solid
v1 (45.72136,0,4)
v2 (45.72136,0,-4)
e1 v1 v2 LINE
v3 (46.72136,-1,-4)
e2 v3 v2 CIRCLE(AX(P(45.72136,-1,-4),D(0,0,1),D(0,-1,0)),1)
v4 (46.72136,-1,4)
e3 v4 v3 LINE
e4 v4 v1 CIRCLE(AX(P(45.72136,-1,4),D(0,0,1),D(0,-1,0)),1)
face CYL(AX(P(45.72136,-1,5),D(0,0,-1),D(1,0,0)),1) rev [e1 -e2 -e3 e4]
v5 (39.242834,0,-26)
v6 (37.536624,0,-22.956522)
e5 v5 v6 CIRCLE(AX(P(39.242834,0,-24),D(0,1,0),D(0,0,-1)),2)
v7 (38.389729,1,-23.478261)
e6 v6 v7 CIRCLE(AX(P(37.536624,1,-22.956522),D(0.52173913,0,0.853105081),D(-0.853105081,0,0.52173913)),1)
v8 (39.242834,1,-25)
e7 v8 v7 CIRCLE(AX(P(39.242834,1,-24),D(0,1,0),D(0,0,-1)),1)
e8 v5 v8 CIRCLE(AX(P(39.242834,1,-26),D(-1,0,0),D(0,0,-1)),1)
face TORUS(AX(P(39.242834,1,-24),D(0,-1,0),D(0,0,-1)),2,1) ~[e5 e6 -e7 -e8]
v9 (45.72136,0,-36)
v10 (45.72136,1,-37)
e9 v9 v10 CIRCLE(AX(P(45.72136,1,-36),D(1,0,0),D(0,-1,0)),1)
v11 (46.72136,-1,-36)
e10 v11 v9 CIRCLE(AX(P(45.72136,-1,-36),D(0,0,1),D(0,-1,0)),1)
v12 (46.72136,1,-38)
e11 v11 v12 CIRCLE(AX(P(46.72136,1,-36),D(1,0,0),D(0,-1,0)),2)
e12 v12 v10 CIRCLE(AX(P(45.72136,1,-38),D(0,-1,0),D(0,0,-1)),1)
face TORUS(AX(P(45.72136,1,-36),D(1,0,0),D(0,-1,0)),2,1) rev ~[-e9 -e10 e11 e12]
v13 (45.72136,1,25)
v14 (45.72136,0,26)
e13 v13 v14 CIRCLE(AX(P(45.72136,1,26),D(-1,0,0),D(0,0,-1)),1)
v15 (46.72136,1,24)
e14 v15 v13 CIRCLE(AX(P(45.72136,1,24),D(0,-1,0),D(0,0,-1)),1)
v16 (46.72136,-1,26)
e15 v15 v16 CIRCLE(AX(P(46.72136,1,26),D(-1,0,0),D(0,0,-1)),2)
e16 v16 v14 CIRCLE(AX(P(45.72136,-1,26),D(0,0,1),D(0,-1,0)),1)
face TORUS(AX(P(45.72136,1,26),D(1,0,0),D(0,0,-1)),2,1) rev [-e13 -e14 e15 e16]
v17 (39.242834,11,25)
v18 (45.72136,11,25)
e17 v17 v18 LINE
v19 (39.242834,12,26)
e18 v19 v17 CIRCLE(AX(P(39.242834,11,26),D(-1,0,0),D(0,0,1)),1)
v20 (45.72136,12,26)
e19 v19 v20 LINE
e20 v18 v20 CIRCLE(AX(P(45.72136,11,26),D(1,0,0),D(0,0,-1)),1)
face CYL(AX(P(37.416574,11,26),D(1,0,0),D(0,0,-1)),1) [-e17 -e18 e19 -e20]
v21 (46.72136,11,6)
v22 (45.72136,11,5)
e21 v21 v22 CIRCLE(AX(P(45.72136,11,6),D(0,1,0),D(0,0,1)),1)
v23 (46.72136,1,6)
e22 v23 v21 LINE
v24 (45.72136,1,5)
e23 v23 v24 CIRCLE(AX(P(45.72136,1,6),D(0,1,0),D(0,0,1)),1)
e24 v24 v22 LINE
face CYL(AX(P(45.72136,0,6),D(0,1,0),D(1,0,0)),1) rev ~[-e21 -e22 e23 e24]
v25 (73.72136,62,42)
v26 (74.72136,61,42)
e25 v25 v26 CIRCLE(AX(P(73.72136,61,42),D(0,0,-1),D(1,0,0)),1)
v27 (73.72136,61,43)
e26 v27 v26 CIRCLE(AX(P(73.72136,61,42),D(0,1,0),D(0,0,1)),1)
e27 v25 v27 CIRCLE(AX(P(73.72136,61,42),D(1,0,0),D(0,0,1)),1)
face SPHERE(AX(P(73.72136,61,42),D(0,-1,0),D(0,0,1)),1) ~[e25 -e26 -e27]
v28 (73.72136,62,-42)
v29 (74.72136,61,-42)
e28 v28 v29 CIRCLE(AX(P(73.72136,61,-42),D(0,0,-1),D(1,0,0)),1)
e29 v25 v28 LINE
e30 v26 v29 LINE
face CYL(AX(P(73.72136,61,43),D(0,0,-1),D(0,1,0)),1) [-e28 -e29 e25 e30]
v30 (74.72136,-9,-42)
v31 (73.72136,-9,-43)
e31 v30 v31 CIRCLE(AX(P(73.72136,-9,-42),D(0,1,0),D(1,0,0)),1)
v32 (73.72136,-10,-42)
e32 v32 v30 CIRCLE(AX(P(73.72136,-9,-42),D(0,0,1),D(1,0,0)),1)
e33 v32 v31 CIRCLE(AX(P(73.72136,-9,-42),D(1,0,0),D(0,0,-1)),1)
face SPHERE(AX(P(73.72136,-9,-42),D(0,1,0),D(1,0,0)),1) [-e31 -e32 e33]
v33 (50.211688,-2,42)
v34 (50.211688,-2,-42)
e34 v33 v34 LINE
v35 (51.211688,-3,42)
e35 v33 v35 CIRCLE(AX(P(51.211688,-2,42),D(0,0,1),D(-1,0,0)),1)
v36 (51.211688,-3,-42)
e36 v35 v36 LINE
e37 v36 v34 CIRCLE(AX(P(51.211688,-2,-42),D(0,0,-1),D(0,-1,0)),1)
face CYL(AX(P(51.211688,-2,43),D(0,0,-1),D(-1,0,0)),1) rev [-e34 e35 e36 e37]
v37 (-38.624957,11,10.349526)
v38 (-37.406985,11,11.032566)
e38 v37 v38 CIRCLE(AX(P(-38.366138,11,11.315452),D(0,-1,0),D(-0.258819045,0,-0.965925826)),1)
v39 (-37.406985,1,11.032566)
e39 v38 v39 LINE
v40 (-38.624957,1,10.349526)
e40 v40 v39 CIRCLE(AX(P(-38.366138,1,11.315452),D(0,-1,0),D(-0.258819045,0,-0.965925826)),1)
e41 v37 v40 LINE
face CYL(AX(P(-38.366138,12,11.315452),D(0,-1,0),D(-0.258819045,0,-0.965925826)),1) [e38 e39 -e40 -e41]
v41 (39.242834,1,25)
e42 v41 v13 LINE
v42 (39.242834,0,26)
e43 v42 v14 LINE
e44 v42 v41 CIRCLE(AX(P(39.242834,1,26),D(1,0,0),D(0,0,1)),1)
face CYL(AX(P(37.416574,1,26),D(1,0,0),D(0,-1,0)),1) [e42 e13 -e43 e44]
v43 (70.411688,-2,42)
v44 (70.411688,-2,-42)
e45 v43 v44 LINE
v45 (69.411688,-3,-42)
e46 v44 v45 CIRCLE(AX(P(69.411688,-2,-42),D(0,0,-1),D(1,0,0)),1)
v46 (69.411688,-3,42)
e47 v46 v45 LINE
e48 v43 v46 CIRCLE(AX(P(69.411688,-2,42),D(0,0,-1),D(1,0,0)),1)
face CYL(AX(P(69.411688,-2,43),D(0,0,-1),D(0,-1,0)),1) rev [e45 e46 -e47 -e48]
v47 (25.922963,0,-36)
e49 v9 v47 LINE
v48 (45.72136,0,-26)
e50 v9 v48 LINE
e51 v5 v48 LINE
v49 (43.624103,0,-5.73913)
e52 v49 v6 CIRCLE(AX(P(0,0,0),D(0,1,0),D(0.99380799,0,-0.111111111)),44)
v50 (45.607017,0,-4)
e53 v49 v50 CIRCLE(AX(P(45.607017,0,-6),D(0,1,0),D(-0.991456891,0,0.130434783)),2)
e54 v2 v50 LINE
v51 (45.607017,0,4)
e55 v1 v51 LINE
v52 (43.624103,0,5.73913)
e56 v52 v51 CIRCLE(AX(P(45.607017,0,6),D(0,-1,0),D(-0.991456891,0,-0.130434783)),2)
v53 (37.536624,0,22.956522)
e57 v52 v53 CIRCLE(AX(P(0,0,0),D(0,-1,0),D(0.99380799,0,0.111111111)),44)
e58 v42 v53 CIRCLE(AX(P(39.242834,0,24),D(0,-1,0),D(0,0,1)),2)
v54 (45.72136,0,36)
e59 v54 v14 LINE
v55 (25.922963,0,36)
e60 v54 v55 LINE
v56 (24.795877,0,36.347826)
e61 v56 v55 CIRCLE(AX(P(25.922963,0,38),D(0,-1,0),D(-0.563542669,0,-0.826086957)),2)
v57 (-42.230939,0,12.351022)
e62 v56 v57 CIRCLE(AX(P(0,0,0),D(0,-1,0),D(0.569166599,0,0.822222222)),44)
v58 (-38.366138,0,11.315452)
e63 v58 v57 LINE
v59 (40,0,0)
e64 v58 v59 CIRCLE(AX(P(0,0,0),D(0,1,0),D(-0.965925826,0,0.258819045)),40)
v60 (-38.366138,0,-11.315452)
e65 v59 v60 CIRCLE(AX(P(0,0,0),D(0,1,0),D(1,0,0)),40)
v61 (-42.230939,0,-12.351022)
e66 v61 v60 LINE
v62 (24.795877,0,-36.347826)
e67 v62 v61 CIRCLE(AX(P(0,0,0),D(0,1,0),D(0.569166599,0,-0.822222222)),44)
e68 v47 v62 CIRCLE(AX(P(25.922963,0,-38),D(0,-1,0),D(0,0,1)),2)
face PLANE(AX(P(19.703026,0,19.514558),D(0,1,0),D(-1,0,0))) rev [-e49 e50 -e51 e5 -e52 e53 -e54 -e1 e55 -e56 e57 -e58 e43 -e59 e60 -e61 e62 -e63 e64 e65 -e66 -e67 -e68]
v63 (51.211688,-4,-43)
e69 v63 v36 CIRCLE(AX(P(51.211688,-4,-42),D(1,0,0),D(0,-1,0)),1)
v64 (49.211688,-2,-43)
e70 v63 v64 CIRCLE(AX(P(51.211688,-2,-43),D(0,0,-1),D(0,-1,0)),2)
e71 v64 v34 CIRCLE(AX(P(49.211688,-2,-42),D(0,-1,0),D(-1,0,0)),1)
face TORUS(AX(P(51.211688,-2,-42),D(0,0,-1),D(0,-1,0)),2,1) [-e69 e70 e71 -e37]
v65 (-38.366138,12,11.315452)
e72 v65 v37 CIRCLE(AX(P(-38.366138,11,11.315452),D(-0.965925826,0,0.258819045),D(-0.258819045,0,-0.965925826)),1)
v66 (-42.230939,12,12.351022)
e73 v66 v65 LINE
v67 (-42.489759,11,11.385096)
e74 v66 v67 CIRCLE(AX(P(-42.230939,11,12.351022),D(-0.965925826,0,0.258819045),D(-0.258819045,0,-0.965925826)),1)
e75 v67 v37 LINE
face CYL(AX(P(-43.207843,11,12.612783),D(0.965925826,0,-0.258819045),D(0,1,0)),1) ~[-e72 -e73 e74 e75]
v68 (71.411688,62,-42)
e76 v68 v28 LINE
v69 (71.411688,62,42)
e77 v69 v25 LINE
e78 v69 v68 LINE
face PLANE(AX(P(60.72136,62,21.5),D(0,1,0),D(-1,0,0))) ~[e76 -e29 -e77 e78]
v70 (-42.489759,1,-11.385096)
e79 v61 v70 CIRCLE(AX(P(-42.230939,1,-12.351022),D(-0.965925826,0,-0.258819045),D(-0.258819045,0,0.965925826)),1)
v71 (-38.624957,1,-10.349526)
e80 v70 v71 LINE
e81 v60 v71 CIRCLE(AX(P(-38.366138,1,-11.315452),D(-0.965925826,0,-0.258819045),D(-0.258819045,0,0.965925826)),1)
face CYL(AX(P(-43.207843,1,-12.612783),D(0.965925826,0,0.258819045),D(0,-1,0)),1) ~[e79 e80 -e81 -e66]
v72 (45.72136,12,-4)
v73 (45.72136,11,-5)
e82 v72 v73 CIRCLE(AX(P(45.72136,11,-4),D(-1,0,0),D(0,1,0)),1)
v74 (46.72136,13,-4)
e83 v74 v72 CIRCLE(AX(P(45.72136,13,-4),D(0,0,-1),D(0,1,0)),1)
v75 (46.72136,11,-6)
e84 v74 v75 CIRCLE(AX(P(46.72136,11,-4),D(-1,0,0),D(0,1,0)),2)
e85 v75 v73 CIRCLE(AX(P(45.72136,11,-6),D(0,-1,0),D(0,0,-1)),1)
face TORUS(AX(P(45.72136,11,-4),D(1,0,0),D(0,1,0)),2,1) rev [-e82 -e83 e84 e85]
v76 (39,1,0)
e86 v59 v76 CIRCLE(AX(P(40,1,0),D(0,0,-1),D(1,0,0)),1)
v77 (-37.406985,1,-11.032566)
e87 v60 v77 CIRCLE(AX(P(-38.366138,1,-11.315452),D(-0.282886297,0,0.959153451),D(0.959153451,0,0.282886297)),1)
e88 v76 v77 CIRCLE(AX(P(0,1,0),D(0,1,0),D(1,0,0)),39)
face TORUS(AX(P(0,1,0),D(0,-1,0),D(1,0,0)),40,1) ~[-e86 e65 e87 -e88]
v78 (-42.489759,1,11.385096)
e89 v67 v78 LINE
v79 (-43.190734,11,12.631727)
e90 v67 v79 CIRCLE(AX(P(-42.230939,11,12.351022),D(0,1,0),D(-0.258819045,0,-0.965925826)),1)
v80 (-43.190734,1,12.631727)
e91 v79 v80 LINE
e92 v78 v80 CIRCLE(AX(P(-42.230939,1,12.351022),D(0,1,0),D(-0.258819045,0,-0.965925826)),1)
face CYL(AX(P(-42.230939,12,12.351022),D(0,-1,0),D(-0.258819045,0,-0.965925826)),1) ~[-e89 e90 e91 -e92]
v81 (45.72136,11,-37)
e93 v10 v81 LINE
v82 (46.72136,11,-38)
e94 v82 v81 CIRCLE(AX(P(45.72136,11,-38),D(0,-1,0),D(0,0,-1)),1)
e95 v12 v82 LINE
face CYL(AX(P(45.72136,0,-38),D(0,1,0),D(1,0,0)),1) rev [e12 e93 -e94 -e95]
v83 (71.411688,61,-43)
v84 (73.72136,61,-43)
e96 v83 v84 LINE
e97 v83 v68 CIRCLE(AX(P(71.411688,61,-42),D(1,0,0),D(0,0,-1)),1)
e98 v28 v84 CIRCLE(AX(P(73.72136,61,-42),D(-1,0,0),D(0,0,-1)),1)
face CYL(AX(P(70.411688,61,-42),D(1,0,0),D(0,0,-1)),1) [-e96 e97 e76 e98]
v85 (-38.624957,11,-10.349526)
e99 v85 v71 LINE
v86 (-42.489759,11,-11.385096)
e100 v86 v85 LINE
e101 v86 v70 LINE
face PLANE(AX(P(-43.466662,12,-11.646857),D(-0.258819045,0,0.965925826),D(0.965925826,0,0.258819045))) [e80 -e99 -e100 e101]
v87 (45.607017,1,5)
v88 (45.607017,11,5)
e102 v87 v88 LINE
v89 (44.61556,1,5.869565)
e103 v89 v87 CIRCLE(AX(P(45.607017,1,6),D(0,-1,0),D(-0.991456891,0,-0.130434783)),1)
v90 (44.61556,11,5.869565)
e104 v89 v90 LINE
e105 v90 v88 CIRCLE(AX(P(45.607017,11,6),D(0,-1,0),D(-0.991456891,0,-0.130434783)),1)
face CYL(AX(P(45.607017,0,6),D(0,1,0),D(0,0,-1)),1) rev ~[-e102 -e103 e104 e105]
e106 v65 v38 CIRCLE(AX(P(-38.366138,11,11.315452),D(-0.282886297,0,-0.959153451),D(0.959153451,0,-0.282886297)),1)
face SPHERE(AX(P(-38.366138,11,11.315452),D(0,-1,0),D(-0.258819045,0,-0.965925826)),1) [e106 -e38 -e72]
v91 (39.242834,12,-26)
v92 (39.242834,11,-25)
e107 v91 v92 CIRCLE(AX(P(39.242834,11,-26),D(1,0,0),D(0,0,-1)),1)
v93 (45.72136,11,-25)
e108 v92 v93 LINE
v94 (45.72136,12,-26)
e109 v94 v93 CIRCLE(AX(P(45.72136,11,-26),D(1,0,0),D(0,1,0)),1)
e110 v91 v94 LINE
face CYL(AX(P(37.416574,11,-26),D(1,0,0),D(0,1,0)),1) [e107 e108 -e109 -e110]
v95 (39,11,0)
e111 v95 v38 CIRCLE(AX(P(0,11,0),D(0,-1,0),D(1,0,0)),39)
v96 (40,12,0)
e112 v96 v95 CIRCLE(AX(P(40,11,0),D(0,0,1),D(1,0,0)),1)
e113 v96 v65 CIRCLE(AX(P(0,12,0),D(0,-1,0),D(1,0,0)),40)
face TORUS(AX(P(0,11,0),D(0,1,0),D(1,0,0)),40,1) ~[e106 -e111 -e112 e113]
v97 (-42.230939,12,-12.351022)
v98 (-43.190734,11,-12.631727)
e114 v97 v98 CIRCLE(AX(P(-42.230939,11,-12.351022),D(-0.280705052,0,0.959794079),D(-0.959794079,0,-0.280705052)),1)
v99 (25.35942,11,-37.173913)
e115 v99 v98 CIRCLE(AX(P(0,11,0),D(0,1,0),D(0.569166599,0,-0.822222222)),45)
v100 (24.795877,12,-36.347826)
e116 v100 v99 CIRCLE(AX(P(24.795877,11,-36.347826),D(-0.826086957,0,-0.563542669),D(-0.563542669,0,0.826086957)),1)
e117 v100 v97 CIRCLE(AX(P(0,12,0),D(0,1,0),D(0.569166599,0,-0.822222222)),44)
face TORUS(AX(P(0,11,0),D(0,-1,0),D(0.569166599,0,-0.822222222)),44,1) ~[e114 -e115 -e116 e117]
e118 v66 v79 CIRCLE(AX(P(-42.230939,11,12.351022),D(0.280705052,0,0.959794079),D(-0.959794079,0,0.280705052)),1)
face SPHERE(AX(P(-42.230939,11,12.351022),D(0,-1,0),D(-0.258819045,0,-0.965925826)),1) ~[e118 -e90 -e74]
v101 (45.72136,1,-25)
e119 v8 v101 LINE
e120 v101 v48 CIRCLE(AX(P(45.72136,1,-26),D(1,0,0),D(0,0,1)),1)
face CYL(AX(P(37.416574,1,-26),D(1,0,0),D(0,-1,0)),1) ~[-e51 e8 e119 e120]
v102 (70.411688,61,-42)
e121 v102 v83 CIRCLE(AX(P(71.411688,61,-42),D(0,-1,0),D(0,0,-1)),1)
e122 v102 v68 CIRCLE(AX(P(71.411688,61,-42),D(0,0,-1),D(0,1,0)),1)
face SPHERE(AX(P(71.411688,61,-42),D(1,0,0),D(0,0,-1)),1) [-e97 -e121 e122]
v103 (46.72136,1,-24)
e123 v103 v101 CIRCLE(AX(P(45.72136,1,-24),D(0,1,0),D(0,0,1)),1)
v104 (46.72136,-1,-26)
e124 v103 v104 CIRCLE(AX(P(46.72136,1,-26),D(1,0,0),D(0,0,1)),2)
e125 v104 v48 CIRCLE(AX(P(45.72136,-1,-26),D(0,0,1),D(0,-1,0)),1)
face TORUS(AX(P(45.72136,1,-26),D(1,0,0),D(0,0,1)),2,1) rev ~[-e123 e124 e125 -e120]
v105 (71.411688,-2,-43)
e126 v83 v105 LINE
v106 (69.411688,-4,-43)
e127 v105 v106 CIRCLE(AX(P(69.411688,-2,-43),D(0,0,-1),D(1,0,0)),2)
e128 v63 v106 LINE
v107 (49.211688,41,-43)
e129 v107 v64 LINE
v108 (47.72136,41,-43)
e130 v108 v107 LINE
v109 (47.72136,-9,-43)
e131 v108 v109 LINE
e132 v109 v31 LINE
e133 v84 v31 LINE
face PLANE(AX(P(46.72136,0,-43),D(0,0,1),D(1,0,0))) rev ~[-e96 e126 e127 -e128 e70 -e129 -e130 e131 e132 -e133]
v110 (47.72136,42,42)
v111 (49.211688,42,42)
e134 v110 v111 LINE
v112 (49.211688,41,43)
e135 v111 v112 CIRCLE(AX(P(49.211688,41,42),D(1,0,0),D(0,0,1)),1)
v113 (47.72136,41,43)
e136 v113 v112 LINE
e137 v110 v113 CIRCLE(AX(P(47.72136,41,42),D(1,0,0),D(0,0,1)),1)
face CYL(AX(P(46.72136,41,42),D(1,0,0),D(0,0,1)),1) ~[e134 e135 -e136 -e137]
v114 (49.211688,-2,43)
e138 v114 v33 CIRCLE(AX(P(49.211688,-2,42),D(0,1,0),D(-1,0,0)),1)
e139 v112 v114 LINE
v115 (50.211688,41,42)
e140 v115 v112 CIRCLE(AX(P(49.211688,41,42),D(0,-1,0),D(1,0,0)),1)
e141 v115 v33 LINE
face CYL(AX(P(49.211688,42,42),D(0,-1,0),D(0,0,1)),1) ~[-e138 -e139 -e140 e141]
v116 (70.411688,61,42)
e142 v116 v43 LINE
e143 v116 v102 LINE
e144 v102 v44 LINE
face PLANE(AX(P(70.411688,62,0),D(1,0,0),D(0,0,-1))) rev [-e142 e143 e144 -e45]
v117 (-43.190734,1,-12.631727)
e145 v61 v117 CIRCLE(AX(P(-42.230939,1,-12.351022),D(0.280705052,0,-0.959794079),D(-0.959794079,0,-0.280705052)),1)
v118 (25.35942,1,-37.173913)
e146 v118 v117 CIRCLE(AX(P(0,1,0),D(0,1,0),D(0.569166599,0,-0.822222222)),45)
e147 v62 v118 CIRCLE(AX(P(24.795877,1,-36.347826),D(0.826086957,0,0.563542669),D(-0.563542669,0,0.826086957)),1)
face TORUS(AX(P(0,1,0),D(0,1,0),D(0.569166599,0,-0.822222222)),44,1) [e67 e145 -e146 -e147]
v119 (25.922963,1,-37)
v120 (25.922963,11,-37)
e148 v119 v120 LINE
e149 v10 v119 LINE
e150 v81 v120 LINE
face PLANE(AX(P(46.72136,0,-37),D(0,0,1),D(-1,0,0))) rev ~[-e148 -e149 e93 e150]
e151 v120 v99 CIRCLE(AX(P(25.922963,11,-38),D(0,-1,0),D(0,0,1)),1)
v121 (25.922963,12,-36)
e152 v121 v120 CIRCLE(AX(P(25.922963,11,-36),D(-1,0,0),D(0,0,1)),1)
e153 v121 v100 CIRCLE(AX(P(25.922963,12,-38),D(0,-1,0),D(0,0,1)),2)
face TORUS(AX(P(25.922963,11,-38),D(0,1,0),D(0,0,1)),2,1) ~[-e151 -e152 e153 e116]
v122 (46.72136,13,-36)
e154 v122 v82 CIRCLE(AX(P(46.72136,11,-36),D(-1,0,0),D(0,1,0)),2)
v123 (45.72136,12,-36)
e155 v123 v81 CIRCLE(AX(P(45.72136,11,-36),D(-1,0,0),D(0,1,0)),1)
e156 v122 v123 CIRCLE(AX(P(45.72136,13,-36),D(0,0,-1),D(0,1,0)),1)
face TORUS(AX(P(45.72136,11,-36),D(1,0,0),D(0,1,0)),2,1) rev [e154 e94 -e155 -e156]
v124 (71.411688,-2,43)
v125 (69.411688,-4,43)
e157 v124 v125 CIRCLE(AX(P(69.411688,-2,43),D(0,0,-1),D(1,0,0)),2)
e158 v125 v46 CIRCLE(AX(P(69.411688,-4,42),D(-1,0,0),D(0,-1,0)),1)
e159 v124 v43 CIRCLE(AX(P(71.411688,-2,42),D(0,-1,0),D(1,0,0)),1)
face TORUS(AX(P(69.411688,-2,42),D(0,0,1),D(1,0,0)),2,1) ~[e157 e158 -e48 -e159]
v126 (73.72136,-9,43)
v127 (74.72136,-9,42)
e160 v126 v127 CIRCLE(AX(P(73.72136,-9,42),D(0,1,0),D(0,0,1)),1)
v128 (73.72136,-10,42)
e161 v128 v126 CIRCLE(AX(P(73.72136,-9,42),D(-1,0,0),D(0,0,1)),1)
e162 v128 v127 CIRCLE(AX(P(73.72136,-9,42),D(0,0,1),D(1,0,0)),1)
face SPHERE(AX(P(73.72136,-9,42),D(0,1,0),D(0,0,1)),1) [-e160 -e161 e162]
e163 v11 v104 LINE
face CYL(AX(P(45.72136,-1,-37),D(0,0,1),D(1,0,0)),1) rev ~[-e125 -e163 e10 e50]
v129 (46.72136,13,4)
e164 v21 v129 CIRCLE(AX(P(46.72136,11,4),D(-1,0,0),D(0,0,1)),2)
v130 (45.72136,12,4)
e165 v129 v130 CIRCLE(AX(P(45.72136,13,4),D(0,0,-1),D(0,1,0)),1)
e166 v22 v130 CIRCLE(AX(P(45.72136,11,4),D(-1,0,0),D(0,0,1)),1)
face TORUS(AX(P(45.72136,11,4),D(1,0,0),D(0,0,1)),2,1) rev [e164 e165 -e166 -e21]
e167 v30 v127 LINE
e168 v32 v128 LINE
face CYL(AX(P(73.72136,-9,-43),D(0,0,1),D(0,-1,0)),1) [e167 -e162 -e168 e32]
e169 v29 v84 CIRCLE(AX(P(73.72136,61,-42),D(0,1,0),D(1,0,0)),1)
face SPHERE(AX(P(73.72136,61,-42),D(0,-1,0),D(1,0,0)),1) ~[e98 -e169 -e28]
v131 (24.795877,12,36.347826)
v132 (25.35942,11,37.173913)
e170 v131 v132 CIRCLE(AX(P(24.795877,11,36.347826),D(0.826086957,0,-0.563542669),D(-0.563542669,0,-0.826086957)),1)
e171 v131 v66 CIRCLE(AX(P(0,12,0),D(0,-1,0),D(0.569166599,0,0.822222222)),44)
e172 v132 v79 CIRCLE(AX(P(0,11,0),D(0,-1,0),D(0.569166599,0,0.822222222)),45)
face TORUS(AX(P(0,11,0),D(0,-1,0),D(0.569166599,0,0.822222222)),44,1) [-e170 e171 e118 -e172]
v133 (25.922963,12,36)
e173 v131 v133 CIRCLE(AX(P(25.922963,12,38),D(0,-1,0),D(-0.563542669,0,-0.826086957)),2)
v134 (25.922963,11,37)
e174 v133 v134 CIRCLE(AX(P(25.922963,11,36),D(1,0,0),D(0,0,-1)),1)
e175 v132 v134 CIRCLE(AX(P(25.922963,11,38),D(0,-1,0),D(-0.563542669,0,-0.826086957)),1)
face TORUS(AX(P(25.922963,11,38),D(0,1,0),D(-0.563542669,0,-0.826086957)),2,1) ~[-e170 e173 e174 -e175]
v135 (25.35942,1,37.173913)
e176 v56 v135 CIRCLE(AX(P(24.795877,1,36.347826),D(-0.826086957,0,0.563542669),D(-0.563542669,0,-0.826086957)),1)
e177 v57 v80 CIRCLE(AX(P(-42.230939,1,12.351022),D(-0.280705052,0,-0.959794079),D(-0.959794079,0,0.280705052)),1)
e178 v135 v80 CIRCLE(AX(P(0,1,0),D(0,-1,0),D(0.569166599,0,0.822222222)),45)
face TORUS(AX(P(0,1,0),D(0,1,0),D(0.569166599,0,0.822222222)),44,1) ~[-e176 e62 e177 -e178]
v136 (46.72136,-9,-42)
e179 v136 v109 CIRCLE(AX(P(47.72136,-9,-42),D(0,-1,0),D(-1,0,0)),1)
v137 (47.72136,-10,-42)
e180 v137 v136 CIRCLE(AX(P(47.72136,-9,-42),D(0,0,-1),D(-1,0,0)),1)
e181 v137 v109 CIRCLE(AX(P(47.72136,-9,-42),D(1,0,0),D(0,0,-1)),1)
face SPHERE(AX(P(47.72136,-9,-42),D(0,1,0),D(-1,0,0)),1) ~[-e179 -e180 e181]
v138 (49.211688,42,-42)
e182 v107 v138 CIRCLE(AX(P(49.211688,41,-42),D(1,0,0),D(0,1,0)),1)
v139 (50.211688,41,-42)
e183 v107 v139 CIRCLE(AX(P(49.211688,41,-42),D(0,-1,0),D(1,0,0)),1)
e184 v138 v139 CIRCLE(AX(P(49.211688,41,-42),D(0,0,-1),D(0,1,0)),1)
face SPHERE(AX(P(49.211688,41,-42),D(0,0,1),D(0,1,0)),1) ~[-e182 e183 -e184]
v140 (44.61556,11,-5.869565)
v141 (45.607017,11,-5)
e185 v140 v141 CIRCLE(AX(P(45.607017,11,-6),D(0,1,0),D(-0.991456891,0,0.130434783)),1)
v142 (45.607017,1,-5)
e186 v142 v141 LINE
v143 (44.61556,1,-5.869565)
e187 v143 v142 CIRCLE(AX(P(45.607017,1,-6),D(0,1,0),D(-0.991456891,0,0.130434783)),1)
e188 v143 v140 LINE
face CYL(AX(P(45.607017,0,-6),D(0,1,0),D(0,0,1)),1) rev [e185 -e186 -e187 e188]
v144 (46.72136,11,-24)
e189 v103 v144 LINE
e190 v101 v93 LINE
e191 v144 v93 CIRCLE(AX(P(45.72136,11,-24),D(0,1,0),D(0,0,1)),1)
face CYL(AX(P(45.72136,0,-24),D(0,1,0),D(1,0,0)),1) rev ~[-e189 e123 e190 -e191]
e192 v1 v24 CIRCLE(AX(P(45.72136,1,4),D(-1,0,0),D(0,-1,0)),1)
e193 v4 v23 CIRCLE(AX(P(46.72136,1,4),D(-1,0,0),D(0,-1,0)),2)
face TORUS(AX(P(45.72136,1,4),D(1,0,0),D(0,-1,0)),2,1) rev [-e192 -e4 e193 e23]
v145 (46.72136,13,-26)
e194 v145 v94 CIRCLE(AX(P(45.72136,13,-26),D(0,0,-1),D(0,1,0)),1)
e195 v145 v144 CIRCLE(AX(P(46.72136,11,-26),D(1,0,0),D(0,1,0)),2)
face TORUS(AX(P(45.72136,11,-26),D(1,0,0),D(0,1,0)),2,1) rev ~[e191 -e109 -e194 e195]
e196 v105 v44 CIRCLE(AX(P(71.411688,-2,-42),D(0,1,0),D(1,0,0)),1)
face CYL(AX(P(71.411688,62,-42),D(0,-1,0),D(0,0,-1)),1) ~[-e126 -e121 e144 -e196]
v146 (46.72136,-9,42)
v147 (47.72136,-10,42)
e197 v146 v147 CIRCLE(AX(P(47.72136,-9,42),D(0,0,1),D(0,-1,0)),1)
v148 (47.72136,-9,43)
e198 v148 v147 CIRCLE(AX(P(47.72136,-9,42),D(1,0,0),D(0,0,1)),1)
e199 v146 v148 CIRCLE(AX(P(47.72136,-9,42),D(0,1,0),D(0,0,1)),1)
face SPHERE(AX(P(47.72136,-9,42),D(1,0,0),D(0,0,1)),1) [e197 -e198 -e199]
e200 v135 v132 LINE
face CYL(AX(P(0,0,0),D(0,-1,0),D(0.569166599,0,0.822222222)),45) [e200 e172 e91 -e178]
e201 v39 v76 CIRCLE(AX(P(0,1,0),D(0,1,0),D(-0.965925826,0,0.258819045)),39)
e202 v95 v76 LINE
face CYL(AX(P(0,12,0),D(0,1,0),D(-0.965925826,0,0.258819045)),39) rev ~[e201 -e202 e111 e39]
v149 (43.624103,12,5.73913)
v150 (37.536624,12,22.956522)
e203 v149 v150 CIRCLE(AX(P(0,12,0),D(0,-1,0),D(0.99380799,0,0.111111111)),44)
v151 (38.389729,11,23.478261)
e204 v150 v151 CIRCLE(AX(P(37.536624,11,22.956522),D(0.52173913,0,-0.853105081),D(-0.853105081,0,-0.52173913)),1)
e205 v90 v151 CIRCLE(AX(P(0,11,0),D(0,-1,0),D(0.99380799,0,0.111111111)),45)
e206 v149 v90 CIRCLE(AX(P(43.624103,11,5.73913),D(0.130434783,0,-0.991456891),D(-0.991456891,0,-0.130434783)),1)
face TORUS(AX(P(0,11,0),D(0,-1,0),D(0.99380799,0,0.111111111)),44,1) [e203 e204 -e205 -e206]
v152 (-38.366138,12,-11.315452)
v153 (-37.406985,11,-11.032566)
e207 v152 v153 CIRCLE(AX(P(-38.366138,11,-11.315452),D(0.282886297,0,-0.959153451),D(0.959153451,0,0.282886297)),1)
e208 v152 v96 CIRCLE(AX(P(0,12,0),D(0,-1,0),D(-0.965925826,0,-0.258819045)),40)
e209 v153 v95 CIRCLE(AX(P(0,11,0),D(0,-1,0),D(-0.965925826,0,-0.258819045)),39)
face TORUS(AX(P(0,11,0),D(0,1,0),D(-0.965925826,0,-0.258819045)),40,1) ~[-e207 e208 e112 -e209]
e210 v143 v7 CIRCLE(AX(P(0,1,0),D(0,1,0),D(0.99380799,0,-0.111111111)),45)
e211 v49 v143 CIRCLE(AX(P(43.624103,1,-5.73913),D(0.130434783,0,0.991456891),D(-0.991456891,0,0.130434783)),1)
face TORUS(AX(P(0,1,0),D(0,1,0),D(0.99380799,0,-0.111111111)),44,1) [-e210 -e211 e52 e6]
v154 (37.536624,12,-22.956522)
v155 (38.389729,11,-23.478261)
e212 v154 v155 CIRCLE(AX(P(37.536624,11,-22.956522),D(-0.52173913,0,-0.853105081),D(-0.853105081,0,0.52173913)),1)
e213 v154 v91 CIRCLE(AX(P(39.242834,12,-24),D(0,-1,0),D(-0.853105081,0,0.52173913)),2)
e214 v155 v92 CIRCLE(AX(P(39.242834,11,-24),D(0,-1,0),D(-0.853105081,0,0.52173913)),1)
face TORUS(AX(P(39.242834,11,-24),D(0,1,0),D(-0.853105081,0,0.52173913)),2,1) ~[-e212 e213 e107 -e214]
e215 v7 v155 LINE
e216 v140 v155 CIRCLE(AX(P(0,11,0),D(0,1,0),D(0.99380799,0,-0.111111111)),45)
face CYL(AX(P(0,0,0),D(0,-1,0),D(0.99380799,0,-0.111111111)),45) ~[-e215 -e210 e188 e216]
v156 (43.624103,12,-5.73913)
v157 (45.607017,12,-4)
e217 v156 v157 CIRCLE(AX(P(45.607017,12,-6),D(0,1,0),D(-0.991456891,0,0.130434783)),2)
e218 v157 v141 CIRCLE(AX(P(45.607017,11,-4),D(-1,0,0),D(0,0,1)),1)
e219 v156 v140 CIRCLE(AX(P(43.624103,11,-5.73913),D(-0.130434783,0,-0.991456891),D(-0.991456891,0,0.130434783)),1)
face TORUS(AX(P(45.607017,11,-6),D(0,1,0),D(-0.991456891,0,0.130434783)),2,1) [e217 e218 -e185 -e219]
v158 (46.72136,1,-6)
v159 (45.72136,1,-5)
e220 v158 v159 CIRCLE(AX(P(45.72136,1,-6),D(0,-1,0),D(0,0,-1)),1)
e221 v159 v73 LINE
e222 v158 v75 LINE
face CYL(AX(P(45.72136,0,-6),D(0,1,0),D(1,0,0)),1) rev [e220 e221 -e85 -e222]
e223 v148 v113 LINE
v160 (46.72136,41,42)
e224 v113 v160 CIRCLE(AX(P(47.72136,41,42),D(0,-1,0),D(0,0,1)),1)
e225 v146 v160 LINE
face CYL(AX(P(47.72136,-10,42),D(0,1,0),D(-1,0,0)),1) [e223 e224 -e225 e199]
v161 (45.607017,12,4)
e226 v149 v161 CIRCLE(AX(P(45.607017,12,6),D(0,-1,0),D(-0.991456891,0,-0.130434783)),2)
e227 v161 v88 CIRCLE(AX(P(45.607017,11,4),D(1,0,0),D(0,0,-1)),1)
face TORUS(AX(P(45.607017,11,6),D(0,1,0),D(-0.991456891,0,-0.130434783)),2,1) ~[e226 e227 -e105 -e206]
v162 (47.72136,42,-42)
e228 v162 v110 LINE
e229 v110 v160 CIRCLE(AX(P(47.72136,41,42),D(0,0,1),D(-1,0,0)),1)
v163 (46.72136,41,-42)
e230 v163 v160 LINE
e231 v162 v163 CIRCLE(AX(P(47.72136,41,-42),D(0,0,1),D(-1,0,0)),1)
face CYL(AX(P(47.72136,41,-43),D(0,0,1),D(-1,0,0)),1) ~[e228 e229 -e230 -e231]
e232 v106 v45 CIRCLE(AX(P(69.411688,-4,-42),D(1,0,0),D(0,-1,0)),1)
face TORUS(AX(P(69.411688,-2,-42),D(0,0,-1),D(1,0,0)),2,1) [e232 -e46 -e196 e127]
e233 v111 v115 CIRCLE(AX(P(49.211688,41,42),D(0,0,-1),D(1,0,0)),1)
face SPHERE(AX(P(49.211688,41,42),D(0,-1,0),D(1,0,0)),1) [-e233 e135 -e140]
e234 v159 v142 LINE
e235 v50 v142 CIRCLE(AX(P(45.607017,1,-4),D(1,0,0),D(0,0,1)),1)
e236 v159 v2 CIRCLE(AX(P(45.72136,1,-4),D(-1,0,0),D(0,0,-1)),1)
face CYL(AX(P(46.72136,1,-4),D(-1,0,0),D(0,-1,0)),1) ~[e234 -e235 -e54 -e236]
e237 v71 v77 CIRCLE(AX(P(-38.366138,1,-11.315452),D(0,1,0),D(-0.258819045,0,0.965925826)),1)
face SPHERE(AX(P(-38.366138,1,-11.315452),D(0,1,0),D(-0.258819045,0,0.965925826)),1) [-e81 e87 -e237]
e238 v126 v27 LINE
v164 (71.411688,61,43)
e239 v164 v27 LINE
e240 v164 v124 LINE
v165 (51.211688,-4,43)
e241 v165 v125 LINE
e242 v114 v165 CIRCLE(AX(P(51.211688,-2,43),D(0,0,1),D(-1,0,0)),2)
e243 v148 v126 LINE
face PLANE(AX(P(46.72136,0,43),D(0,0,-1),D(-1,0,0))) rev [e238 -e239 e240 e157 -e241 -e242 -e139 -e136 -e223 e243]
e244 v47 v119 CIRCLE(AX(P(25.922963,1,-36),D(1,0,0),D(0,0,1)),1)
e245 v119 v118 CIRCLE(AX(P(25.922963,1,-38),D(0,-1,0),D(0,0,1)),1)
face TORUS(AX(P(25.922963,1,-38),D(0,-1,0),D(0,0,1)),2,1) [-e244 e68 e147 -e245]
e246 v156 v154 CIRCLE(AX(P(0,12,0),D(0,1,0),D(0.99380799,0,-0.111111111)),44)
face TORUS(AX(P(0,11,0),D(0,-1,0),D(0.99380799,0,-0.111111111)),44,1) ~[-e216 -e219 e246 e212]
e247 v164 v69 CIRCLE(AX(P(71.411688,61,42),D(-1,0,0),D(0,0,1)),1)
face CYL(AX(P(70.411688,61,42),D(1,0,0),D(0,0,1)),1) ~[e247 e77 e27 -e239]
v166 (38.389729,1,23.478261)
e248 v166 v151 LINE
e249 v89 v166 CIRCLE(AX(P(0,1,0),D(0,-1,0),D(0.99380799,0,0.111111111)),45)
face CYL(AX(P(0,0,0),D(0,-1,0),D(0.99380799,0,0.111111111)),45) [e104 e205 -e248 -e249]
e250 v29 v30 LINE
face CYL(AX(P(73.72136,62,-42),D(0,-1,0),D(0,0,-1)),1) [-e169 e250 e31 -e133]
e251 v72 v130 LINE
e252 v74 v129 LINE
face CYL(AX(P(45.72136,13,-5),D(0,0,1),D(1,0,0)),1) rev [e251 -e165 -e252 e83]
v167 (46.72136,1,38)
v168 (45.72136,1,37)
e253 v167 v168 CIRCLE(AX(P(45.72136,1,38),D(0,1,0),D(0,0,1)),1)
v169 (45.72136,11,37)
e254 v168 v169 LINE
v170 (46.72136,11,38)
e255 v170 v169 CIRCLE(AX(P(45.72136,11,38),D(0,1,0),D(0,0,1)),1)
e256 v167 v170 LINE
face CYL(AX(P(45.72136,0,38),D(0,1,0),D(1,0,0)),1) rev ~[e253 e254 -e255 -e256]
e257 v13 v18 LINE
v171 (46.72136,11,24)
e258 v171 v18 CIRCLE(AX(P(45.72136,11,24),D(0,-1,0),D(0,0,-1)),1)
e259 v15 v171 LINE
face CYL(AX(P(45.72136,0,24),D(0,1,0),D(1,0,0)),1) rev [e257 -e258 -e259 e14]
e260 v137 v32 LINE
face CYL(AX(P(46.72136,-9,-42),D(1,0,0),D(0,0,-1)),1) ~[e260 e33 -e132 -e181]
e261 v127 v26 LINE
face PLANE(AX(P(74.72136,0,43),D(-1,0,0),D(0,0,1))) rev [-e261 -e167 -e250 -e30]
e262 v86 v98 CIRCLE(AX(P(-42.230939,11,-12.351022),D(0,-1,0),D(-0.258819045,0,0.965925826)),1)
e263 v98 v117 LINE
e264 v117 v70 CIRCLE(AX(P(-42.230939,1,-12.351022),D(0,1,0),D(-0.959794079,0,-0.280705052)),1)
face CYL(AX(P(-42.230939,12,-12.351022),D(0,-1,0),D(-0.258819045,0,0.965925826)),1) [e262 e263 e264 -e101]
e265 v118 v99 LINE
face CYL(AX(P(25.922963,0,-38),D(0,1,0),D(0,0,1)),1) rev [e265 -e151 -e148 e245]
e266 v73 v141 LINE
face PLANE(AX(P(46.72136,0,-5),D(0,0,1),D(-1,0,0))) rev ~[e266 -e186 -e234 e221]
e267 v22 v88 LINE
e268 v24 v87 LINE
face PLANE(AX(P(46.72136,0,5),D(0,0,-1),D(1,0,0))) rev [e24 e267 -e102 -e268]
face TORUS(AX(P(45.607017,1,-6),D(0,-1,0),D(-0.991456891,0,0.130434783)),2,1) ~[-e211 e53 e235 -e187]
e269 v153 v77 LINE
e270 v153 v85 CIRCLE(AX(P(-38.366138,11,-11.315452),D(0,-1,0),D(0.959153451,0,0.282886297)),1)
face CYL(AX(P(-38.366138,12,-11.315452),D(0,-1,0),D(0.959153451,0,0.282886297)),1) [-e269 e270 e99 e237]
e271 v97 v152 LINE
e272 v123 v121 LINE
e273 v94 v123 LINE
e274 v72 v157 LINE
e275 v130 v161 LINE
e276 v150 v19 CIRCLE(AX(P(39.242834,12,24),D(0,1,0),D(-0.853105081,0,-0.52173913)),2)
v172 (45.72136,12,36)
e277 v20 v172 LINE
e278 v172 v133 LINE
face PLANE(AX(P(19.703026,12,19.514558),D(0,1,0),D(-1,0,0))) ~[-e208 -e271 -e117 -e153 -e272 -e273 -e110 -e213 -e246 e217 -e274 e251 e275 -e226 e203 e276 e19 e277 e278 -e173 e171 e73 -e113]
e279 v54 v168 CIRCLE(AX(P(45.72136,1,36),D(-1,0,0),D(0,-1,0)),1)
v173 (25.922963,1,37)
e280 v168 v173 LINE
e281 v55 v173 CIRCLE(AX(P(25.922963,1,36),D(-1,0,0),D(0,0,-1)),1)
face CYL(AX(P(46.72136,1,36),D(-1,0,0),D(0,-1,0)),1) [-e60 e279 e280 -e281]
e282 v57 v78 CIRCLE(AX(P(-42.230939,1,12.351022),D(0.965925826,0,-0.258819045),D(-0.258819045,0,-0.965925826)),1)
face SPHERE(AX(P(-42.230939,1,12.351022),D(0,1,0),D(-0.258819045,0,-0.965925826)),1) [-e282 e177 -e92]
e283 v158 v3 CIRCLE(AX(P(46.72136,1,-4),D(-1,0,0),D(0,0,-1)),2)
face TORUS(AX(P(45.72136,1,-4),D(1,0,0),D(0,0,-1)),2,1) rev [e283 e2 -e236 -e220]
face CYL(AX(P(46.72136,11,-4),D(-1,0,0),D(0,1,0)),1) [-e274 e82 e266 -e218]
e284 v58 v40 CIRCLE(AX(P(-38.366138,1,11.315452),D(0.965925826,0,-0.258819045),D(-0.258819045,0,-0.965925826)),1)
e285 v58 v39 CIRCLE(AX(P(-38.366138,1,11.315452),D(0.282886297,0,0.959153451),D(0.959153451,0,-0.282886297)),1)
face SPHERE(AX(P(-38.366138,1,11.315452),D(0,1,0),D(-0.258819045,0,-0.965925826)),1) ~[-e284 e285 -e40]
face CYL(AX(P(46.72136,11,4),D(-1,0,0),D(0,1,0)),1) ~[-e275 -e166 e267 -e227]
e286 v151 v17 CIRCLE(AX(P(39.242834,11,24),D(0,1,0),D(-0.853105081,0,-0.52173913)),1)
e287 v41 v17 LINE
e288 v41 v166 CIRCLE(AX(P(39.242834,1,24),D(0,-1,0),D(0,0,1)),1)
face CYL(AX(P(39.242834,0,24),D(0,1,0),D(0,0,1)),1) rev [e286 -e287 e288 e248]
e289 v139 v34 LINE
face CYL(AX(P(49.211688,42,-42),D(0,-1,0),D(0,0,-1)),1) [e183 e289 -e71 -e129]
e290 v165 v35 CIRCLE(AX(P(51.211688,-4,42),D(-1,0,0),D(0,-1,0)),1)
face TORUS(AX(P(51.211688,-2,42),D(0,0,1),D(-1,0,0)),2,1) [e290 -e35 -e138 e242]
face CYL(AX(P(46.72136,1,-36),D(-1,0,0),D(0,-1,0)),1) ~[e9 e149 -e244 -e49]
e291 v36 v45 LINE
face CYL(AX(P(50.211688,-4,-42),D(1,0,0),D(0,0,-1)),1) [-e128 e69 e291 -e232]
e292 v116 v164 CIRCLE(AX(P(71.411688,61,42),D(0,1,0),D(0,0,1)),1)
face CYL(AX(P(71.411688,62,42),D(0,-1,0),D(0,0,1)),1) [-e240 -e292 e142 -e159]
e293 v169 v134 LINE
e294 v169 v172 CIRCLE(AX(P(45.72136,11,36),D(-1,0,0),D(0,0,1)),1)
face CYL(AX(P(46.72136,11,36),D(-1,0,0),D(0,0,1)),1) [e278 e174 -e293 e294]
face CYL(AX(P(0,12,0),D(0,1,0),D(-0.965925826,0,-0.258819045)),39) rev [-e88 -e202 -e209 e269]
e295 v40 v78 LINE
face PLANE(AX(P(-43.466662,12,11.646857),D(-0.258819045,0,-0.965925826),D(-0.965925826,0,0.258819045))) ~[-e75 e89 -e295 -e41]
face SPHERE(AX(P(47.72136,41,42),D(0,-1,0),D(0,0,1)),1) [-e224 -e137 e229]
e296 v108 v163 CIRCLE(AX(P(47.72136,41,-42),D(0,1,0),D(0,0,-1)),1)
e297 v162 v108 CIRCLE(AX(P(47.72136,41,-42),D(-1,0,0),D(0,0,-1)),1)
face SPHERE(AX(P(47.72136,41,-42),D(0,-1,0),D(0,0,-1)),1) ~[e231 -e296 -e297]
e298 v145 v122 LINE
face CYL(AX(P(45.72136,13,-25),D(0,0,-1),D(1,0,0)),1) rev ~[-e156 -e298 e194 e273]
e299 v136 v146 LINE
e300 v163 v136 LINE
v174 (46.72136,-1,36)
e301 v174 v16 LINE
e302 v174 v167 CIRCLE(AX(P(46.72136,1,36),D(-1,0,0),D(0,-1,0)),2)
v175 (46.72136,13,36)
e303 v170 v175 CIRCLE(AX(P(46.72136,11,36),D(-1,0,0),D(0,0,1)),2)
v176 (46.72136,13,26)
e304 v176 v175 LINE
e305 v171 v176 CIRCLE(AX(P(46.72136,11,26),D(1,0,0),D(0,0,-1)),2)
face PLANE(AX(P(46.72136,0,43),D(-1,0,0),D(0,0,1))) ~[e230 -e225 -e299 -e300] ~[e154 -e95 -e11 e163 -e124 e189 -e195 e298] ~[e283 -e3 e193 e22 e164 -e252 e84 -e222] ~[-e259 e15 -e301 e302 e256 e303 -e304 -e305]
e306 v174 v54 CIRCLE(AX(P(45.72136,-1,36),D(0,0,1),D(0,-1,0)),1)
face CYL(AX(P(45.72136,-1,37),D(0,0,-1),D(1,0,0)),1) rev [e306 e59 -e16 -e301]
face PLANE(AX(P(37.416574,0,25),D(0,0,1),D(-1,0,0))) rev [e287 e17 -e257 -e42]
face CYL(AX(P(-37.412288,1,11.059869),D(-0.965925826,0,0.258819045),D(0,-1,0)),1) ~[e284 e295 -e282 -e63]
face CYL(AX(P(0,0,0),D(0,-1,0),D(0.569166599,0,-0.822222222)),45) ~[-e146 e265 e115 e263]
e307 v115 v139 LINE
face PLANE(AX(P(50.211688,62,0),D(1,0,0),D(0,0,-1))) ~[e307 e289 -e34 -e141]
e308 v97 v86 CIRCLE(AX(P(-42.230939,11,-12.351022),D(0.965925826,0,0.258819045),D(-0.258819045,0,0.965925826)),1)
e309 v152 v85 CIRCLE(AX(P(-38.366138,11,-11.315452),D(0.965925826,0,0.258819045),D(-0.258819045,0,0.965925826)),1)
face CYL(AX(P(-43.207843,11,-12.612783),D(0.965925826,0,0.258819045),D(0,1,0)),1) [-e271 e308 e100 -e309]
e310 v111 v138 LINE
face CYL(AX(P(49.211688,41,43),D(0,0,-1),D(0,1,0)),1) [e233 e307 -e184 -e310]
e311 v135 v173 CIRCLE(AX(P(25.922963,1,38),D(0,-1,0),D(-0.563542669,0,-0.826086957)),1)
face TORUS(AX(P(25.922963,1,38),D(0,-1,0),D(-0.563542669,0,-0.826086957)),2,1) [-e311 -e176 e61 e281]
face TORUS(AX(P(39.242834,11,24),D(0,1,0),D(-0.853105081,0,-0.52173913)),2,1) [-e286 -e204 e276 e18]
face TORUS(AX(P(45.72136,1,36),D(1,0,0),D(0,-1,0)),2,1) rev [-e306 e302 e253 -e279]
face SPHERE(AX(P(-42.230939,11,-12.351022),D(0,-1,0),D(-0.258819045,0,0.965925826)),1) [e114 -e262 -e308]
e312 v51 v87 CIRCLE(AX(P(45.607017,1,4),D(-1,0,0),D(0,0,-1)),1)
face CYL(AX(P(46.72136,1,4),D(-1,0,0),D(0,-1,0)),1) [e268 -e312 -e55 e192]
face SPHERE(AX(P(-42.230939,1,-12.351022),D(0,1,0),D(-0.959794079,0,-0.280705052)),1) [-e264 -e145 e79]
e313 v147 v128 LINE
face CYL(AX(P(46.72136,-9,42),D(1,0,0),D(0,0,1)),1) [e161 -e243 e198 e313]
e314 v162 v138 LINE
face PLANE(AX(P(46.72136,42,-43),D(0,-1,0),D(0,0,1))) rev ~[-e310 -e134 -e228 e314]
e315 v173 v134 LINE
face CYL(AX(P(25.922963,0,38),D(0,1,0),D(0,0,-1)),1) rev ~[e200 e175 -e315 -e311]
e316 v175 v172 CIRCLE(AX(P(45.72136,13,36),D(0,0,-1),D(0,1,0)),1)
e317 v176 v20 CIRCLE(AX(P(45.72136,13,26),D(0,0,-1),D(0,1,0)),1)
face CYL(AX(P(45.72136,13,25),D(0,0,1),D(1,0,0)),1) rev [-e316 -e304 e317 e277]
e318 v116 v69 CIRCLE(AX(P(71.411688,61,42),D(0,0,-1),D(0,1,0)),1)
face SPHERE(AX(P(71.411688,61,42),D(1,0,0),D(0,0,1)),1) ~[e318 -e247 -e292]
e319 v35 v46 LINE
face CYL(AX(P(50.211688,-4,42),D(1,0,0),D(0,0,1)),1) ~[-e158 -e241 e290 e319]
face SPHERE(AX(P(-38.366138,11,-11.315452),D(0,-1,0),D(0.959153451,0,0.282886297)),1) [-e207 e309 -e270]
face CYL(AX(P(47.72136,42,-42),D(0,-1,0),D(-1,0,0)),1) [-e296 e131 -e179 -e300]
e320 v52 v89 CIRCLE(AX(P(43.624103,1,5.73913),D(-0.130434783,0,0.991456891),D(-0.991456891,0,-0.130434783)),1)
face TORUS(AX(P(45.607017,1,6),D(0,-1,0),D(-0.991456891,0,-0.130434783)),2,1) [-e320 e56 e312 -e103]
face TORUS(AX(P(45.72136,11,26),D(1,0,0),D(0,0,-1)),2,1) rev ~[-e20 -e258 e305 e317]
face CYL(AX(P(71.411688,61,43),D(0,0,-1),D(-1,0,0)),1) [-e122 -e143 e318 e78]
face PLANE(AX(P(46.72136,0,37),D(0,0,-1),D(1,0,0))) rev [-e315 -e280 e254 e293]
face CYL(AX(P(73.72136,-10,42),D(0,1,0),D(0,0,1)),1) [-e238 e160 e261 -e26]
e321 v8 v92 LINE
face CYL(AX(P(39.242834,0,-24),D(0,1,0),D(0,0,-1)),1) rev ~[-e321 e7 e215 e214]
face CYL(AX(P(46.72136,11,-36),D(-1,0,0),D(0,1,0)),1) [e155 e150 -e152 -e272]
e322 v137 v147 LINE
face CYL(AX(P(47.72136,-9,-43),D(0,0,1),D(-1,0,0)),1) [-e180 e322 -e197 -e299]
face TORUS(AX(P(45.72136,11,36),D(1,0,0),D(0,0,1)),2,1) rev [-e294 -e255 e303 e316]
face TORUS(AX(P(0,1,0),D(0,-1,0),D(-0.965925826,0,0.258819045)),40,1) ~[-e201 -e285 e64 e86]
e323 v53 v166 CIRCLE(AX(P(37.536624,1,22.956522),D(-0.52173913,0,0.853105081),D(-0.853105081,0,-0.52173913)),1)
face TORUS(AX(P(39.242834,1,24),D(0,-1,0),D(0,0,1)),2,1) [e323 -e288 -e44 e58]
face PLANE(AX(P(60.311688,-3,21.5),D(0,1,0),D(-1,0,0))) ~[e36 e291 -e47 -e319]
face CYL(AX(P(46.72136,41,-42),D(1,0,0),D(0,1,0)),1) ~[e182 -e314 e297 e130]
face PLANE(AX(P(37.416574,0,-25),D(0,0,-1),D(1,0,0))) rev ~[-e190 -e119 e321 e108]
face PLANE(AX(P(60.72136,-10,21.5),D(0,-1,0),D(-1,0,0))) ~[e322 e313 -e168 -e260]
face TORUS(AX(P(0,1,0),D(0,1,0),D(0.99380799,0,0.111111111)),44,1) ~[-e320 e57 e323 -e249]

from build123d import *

# Parameters (mm, degrees)
BOSS_EXTRUDE1_DEPTH = 12
CUT_EXTRUDE2_DEPTH  = 89.047041819
SKETCH4_W           = 28
SKETCH4_H           = 43
BOSS_EXTRUDE2_DEPTH = 50
SKETCH5_W           = 28
SKETCH5_H           = 43
BOSS_EXTRUDE3_DEPTH = 10
SKETCH6_W           = 20.2
SKETCH6_H           = 43
CUT_EXTRUDE3_DEPTH  = 65
CUT_EXTRUDE4_REACH  = 120.334
SKETCH7_W           = 86
SKETCH7_H           = 20
FILLET5_R           = 1


with BuildPart() as part:
    # Sketch1 → Boss-Extrude1 (new body)
    with BuildSketch(Plane(origin=(0, 0, 0), x_dir=(1, 0, 0), z_dir=(0, 1, 0))):
        with BuildLine():
            Line((-45, 0), (74.72135955, 0))
            Line((74.72135955, 0), (74.72135955, 43))
            Line((74.72135955, 43), (46.72135955, 43))
            Line((46.72135955, 43), (46.72135955, 37))
            Line((46.72135955, 37), (25.61249695, 37))
            ThreePointArc((25.61249695, 37), (-20.885852116, 39.859518077), (-45, 0))
        make_face()
        with BuildLine():
            Line((46.72135955, 25), (46.72135955, 5))
            Line((46.72135955, 5), (44.72135955, 5))
            ThreePointArc((44.72135955, 5), (42.268901411, 15.438263292), (37.416573868, 25))
            Line((37.416573868, 25), (46.72135955, 25))
        make_face(mode=Mode.SUBTRACT)
    boss_extrude1 = extrude(amount=BOSS_EXTRUDE1_DEPTH)

    # Sketch3 → Cut-Extrude2 (cut, through all)
    with BuildSketch(Plane(origin=(0, 12, 0), x_dir=(1, 0, 0), z_dir=(0, 1, 0))):
        with BuildLine():
            Line((-43.466662183, 11.64685703), (-37.671107225, 10.093942759))
            ThreePointArc((-37.671107225, 10.093942759), (5.090521497, 38.666349594), (39, 0))
            Line((39, 0), (-45, 0))
            ThreePointArc((-45, 0), (-44.615018762, 5.87367865), (-43.466662183, 11.64685703))
        make_face()
    cut_extrude2 = extrude(amount=-CUT_EXTRUDE2_DEPTH, mode=Mode.SUBTRACT)

    # Sketch4 → Boss-Extrude2 (add)
    with BuildSketch(Plane(origin=(0, 12, 0), x_dir=(1, 0, 0), z_dir=(0, 1, 0))):
        with Locations((60.72135955, 21.5)):
            Rectangle(SKETCH4_W, SKETCH4_H)
    boss_extrude2 = extrude(amount=BOSS_EXTRUDE2_DEPTH)

    # Sketch5 → Boss-Extrude3 (add)
    with BuildSketch(Plane.XZ):
        with Locations((60.72135955, -21.5)):
            Rectangle(SKETCH5_W, SKETCH5_H)
    boss_extrude3 = extrude(amount=BOSS_EXTRUDE3_DEPTH)

    # Sketch6 → Cut-Extrude3 (cut)
    with BuildSketch(Plane(origin=(0, 62, 0), x_dir=(1, 0, 0), z_dir=(0, 1, 0))):
        with Locations((60.311688234, 21.5)):
            Rectangle(SKETCH6_W, SKETCH6_H)
    cut_extrude3 = extrude(amount=-CUT_EXTRUDE3_DEPTH, mode=Mode.SUBTRACT)

    # Mirror1: Boss-Extrude1, Cut-Extrude2, Boss-Extrude2, Boss-Extrude3, Cut-Extrude3 across plane
    add(boss_extrude1.mirror(Plane.XY))
    add(cut_extrude2.mirror(Plane.XY), mode=Mode.SUBTRACT)
    add(boss_extrude2.mirror(Plane.XY))
    add(boss_extrude3.mirror(Plane.XY))
    add(cut_extrude3.mirror(Plane.XY), mode=Mode.SUBTRACT)

    # Sketch7 → Cut-Extrude4 (cut, up to next)
    with BuildSketch(Plane.ZY.offset(-46.72135955), mode=Mode.PRIVATE) as cut_extrude4_sk1:
        with Locations((0, 52)):
            Rectangle(SKETCH7_W, SKETCH7_H)
    cut_extrude4_tool1 = extrude(cut_extrude4_sk1.sketch, amount=-CUT_EXTRUDE4_REACH, mode=Mode.PRIVATE) & part.part
    add(cut_extrude4_tool1.solids().sort_by_distance((46.72136, 52, 0))[0], mode=Mode.SUBTRACT)

    # Fillet5
    fillet5_edges = [part.edges().sort_by_distance(p)[0] for p in [
        (-15.504459638, 12, 42.244665123),
        (36.16692825, 12, 37),
        (25.61249695, 6, 37),
        (46.72135955, 6, 37),
        (74.72135955, 26, 43),
        (42.268901411, 12, 15.438263292),
        (45.72135955, 12, 5),
        (42.068966709, 12, 25),
        (-15.504459638, 0, 42.244665123),
        (25.61249695, 6, -37),
        (46.72135955, 6, -37),
        (36.16692825, 0, 37),
        (42.268901411, 0, 15.438263292),
        (37.416573868, 6, 25),
        (42.068966709, 0, 25),
        (46.72135955, 6, 25),
        (46.72135955, 6, 5),
        (45.72135955, 0, 5),
        (44.72135955, 6, 5),
        (74.72135955, 26, -43),
        (-43.466662183, 6, 11.64685703),
        (-37.671107225, 6, 10.093942759),
        (-40.568884704, 12, 10.870399894),
        (-40.568884704, 0, 10.870399894),
        (72.566523892, 62, 43),
        (46.72135955, 12, 31),
        (60.72135955, -10, 43),
        (46.72135955, 0, 31),
        (50.211688234, 19.5, 43),
        (70.411688234, 29.5, 43),
        (60.311688234, -3, 43),
        (42.268901411, 0, -15.438263292),
        (37.416573868, 6, -25),
        (45.72135955, 0, -5),
        (44.72135955, 6, -5),
        (46.72135955, 16, -43),
        (46.72135955, 16, 43),
        (46.72135955, 6, -5),
        (42.068966709, 0, -25),
        (50.211688234, 42, 0),
        (48.466523892, 42, -43),
        (48.466523892, 42, 43),
        (46.72135955, 42, 0),
        (46.72135955, 6, -25),
        (42.268901411, 12, -15.438263292),
        (45.72135955, 12, -5),
        (42.068966709, 12, -25),
        (36.16692825, 12, -37),
        (-40.568884704, 0, -10.870399894),
        (-43.466662183, 6, -11.64685703),
        (5.090521497, 0, 38.666349594),
        (-37.671107225, 6, -10.093942759),
        (5.090521497, 12, -38.666349594),
        (-40.568884704, 12, -10.870399894),
        (-15.504459638, 12, -42.244665123),
        (46.72135955, 12, 0),
        (46.72135955, 12, -31),
        (74.72135955, 62, 0),
        (72.566523892, 62, -43),
        (36.16692825, 0, -37),
        (46.72135955, 0, -31),
        (46.72135955, 0, 0),
        (74.72135955, -10, 0),
        (46.72135955, -10, 0),
        (60.72135955, -10, -43),
        (-15.504459638, 0, -42.244665123),
        (50.211688234, -3, 0),
        (60.311688234, -3, -43),
        (50.211688234, 19.5, -43),
        (70.411688234, -3, 0),
        (70.411688234, 29.5, -43),
        (70.411688234, 62, 0),
    ]]
    fillet(fillet5_edges, radius=FILLET5_R)


solid = part.part
